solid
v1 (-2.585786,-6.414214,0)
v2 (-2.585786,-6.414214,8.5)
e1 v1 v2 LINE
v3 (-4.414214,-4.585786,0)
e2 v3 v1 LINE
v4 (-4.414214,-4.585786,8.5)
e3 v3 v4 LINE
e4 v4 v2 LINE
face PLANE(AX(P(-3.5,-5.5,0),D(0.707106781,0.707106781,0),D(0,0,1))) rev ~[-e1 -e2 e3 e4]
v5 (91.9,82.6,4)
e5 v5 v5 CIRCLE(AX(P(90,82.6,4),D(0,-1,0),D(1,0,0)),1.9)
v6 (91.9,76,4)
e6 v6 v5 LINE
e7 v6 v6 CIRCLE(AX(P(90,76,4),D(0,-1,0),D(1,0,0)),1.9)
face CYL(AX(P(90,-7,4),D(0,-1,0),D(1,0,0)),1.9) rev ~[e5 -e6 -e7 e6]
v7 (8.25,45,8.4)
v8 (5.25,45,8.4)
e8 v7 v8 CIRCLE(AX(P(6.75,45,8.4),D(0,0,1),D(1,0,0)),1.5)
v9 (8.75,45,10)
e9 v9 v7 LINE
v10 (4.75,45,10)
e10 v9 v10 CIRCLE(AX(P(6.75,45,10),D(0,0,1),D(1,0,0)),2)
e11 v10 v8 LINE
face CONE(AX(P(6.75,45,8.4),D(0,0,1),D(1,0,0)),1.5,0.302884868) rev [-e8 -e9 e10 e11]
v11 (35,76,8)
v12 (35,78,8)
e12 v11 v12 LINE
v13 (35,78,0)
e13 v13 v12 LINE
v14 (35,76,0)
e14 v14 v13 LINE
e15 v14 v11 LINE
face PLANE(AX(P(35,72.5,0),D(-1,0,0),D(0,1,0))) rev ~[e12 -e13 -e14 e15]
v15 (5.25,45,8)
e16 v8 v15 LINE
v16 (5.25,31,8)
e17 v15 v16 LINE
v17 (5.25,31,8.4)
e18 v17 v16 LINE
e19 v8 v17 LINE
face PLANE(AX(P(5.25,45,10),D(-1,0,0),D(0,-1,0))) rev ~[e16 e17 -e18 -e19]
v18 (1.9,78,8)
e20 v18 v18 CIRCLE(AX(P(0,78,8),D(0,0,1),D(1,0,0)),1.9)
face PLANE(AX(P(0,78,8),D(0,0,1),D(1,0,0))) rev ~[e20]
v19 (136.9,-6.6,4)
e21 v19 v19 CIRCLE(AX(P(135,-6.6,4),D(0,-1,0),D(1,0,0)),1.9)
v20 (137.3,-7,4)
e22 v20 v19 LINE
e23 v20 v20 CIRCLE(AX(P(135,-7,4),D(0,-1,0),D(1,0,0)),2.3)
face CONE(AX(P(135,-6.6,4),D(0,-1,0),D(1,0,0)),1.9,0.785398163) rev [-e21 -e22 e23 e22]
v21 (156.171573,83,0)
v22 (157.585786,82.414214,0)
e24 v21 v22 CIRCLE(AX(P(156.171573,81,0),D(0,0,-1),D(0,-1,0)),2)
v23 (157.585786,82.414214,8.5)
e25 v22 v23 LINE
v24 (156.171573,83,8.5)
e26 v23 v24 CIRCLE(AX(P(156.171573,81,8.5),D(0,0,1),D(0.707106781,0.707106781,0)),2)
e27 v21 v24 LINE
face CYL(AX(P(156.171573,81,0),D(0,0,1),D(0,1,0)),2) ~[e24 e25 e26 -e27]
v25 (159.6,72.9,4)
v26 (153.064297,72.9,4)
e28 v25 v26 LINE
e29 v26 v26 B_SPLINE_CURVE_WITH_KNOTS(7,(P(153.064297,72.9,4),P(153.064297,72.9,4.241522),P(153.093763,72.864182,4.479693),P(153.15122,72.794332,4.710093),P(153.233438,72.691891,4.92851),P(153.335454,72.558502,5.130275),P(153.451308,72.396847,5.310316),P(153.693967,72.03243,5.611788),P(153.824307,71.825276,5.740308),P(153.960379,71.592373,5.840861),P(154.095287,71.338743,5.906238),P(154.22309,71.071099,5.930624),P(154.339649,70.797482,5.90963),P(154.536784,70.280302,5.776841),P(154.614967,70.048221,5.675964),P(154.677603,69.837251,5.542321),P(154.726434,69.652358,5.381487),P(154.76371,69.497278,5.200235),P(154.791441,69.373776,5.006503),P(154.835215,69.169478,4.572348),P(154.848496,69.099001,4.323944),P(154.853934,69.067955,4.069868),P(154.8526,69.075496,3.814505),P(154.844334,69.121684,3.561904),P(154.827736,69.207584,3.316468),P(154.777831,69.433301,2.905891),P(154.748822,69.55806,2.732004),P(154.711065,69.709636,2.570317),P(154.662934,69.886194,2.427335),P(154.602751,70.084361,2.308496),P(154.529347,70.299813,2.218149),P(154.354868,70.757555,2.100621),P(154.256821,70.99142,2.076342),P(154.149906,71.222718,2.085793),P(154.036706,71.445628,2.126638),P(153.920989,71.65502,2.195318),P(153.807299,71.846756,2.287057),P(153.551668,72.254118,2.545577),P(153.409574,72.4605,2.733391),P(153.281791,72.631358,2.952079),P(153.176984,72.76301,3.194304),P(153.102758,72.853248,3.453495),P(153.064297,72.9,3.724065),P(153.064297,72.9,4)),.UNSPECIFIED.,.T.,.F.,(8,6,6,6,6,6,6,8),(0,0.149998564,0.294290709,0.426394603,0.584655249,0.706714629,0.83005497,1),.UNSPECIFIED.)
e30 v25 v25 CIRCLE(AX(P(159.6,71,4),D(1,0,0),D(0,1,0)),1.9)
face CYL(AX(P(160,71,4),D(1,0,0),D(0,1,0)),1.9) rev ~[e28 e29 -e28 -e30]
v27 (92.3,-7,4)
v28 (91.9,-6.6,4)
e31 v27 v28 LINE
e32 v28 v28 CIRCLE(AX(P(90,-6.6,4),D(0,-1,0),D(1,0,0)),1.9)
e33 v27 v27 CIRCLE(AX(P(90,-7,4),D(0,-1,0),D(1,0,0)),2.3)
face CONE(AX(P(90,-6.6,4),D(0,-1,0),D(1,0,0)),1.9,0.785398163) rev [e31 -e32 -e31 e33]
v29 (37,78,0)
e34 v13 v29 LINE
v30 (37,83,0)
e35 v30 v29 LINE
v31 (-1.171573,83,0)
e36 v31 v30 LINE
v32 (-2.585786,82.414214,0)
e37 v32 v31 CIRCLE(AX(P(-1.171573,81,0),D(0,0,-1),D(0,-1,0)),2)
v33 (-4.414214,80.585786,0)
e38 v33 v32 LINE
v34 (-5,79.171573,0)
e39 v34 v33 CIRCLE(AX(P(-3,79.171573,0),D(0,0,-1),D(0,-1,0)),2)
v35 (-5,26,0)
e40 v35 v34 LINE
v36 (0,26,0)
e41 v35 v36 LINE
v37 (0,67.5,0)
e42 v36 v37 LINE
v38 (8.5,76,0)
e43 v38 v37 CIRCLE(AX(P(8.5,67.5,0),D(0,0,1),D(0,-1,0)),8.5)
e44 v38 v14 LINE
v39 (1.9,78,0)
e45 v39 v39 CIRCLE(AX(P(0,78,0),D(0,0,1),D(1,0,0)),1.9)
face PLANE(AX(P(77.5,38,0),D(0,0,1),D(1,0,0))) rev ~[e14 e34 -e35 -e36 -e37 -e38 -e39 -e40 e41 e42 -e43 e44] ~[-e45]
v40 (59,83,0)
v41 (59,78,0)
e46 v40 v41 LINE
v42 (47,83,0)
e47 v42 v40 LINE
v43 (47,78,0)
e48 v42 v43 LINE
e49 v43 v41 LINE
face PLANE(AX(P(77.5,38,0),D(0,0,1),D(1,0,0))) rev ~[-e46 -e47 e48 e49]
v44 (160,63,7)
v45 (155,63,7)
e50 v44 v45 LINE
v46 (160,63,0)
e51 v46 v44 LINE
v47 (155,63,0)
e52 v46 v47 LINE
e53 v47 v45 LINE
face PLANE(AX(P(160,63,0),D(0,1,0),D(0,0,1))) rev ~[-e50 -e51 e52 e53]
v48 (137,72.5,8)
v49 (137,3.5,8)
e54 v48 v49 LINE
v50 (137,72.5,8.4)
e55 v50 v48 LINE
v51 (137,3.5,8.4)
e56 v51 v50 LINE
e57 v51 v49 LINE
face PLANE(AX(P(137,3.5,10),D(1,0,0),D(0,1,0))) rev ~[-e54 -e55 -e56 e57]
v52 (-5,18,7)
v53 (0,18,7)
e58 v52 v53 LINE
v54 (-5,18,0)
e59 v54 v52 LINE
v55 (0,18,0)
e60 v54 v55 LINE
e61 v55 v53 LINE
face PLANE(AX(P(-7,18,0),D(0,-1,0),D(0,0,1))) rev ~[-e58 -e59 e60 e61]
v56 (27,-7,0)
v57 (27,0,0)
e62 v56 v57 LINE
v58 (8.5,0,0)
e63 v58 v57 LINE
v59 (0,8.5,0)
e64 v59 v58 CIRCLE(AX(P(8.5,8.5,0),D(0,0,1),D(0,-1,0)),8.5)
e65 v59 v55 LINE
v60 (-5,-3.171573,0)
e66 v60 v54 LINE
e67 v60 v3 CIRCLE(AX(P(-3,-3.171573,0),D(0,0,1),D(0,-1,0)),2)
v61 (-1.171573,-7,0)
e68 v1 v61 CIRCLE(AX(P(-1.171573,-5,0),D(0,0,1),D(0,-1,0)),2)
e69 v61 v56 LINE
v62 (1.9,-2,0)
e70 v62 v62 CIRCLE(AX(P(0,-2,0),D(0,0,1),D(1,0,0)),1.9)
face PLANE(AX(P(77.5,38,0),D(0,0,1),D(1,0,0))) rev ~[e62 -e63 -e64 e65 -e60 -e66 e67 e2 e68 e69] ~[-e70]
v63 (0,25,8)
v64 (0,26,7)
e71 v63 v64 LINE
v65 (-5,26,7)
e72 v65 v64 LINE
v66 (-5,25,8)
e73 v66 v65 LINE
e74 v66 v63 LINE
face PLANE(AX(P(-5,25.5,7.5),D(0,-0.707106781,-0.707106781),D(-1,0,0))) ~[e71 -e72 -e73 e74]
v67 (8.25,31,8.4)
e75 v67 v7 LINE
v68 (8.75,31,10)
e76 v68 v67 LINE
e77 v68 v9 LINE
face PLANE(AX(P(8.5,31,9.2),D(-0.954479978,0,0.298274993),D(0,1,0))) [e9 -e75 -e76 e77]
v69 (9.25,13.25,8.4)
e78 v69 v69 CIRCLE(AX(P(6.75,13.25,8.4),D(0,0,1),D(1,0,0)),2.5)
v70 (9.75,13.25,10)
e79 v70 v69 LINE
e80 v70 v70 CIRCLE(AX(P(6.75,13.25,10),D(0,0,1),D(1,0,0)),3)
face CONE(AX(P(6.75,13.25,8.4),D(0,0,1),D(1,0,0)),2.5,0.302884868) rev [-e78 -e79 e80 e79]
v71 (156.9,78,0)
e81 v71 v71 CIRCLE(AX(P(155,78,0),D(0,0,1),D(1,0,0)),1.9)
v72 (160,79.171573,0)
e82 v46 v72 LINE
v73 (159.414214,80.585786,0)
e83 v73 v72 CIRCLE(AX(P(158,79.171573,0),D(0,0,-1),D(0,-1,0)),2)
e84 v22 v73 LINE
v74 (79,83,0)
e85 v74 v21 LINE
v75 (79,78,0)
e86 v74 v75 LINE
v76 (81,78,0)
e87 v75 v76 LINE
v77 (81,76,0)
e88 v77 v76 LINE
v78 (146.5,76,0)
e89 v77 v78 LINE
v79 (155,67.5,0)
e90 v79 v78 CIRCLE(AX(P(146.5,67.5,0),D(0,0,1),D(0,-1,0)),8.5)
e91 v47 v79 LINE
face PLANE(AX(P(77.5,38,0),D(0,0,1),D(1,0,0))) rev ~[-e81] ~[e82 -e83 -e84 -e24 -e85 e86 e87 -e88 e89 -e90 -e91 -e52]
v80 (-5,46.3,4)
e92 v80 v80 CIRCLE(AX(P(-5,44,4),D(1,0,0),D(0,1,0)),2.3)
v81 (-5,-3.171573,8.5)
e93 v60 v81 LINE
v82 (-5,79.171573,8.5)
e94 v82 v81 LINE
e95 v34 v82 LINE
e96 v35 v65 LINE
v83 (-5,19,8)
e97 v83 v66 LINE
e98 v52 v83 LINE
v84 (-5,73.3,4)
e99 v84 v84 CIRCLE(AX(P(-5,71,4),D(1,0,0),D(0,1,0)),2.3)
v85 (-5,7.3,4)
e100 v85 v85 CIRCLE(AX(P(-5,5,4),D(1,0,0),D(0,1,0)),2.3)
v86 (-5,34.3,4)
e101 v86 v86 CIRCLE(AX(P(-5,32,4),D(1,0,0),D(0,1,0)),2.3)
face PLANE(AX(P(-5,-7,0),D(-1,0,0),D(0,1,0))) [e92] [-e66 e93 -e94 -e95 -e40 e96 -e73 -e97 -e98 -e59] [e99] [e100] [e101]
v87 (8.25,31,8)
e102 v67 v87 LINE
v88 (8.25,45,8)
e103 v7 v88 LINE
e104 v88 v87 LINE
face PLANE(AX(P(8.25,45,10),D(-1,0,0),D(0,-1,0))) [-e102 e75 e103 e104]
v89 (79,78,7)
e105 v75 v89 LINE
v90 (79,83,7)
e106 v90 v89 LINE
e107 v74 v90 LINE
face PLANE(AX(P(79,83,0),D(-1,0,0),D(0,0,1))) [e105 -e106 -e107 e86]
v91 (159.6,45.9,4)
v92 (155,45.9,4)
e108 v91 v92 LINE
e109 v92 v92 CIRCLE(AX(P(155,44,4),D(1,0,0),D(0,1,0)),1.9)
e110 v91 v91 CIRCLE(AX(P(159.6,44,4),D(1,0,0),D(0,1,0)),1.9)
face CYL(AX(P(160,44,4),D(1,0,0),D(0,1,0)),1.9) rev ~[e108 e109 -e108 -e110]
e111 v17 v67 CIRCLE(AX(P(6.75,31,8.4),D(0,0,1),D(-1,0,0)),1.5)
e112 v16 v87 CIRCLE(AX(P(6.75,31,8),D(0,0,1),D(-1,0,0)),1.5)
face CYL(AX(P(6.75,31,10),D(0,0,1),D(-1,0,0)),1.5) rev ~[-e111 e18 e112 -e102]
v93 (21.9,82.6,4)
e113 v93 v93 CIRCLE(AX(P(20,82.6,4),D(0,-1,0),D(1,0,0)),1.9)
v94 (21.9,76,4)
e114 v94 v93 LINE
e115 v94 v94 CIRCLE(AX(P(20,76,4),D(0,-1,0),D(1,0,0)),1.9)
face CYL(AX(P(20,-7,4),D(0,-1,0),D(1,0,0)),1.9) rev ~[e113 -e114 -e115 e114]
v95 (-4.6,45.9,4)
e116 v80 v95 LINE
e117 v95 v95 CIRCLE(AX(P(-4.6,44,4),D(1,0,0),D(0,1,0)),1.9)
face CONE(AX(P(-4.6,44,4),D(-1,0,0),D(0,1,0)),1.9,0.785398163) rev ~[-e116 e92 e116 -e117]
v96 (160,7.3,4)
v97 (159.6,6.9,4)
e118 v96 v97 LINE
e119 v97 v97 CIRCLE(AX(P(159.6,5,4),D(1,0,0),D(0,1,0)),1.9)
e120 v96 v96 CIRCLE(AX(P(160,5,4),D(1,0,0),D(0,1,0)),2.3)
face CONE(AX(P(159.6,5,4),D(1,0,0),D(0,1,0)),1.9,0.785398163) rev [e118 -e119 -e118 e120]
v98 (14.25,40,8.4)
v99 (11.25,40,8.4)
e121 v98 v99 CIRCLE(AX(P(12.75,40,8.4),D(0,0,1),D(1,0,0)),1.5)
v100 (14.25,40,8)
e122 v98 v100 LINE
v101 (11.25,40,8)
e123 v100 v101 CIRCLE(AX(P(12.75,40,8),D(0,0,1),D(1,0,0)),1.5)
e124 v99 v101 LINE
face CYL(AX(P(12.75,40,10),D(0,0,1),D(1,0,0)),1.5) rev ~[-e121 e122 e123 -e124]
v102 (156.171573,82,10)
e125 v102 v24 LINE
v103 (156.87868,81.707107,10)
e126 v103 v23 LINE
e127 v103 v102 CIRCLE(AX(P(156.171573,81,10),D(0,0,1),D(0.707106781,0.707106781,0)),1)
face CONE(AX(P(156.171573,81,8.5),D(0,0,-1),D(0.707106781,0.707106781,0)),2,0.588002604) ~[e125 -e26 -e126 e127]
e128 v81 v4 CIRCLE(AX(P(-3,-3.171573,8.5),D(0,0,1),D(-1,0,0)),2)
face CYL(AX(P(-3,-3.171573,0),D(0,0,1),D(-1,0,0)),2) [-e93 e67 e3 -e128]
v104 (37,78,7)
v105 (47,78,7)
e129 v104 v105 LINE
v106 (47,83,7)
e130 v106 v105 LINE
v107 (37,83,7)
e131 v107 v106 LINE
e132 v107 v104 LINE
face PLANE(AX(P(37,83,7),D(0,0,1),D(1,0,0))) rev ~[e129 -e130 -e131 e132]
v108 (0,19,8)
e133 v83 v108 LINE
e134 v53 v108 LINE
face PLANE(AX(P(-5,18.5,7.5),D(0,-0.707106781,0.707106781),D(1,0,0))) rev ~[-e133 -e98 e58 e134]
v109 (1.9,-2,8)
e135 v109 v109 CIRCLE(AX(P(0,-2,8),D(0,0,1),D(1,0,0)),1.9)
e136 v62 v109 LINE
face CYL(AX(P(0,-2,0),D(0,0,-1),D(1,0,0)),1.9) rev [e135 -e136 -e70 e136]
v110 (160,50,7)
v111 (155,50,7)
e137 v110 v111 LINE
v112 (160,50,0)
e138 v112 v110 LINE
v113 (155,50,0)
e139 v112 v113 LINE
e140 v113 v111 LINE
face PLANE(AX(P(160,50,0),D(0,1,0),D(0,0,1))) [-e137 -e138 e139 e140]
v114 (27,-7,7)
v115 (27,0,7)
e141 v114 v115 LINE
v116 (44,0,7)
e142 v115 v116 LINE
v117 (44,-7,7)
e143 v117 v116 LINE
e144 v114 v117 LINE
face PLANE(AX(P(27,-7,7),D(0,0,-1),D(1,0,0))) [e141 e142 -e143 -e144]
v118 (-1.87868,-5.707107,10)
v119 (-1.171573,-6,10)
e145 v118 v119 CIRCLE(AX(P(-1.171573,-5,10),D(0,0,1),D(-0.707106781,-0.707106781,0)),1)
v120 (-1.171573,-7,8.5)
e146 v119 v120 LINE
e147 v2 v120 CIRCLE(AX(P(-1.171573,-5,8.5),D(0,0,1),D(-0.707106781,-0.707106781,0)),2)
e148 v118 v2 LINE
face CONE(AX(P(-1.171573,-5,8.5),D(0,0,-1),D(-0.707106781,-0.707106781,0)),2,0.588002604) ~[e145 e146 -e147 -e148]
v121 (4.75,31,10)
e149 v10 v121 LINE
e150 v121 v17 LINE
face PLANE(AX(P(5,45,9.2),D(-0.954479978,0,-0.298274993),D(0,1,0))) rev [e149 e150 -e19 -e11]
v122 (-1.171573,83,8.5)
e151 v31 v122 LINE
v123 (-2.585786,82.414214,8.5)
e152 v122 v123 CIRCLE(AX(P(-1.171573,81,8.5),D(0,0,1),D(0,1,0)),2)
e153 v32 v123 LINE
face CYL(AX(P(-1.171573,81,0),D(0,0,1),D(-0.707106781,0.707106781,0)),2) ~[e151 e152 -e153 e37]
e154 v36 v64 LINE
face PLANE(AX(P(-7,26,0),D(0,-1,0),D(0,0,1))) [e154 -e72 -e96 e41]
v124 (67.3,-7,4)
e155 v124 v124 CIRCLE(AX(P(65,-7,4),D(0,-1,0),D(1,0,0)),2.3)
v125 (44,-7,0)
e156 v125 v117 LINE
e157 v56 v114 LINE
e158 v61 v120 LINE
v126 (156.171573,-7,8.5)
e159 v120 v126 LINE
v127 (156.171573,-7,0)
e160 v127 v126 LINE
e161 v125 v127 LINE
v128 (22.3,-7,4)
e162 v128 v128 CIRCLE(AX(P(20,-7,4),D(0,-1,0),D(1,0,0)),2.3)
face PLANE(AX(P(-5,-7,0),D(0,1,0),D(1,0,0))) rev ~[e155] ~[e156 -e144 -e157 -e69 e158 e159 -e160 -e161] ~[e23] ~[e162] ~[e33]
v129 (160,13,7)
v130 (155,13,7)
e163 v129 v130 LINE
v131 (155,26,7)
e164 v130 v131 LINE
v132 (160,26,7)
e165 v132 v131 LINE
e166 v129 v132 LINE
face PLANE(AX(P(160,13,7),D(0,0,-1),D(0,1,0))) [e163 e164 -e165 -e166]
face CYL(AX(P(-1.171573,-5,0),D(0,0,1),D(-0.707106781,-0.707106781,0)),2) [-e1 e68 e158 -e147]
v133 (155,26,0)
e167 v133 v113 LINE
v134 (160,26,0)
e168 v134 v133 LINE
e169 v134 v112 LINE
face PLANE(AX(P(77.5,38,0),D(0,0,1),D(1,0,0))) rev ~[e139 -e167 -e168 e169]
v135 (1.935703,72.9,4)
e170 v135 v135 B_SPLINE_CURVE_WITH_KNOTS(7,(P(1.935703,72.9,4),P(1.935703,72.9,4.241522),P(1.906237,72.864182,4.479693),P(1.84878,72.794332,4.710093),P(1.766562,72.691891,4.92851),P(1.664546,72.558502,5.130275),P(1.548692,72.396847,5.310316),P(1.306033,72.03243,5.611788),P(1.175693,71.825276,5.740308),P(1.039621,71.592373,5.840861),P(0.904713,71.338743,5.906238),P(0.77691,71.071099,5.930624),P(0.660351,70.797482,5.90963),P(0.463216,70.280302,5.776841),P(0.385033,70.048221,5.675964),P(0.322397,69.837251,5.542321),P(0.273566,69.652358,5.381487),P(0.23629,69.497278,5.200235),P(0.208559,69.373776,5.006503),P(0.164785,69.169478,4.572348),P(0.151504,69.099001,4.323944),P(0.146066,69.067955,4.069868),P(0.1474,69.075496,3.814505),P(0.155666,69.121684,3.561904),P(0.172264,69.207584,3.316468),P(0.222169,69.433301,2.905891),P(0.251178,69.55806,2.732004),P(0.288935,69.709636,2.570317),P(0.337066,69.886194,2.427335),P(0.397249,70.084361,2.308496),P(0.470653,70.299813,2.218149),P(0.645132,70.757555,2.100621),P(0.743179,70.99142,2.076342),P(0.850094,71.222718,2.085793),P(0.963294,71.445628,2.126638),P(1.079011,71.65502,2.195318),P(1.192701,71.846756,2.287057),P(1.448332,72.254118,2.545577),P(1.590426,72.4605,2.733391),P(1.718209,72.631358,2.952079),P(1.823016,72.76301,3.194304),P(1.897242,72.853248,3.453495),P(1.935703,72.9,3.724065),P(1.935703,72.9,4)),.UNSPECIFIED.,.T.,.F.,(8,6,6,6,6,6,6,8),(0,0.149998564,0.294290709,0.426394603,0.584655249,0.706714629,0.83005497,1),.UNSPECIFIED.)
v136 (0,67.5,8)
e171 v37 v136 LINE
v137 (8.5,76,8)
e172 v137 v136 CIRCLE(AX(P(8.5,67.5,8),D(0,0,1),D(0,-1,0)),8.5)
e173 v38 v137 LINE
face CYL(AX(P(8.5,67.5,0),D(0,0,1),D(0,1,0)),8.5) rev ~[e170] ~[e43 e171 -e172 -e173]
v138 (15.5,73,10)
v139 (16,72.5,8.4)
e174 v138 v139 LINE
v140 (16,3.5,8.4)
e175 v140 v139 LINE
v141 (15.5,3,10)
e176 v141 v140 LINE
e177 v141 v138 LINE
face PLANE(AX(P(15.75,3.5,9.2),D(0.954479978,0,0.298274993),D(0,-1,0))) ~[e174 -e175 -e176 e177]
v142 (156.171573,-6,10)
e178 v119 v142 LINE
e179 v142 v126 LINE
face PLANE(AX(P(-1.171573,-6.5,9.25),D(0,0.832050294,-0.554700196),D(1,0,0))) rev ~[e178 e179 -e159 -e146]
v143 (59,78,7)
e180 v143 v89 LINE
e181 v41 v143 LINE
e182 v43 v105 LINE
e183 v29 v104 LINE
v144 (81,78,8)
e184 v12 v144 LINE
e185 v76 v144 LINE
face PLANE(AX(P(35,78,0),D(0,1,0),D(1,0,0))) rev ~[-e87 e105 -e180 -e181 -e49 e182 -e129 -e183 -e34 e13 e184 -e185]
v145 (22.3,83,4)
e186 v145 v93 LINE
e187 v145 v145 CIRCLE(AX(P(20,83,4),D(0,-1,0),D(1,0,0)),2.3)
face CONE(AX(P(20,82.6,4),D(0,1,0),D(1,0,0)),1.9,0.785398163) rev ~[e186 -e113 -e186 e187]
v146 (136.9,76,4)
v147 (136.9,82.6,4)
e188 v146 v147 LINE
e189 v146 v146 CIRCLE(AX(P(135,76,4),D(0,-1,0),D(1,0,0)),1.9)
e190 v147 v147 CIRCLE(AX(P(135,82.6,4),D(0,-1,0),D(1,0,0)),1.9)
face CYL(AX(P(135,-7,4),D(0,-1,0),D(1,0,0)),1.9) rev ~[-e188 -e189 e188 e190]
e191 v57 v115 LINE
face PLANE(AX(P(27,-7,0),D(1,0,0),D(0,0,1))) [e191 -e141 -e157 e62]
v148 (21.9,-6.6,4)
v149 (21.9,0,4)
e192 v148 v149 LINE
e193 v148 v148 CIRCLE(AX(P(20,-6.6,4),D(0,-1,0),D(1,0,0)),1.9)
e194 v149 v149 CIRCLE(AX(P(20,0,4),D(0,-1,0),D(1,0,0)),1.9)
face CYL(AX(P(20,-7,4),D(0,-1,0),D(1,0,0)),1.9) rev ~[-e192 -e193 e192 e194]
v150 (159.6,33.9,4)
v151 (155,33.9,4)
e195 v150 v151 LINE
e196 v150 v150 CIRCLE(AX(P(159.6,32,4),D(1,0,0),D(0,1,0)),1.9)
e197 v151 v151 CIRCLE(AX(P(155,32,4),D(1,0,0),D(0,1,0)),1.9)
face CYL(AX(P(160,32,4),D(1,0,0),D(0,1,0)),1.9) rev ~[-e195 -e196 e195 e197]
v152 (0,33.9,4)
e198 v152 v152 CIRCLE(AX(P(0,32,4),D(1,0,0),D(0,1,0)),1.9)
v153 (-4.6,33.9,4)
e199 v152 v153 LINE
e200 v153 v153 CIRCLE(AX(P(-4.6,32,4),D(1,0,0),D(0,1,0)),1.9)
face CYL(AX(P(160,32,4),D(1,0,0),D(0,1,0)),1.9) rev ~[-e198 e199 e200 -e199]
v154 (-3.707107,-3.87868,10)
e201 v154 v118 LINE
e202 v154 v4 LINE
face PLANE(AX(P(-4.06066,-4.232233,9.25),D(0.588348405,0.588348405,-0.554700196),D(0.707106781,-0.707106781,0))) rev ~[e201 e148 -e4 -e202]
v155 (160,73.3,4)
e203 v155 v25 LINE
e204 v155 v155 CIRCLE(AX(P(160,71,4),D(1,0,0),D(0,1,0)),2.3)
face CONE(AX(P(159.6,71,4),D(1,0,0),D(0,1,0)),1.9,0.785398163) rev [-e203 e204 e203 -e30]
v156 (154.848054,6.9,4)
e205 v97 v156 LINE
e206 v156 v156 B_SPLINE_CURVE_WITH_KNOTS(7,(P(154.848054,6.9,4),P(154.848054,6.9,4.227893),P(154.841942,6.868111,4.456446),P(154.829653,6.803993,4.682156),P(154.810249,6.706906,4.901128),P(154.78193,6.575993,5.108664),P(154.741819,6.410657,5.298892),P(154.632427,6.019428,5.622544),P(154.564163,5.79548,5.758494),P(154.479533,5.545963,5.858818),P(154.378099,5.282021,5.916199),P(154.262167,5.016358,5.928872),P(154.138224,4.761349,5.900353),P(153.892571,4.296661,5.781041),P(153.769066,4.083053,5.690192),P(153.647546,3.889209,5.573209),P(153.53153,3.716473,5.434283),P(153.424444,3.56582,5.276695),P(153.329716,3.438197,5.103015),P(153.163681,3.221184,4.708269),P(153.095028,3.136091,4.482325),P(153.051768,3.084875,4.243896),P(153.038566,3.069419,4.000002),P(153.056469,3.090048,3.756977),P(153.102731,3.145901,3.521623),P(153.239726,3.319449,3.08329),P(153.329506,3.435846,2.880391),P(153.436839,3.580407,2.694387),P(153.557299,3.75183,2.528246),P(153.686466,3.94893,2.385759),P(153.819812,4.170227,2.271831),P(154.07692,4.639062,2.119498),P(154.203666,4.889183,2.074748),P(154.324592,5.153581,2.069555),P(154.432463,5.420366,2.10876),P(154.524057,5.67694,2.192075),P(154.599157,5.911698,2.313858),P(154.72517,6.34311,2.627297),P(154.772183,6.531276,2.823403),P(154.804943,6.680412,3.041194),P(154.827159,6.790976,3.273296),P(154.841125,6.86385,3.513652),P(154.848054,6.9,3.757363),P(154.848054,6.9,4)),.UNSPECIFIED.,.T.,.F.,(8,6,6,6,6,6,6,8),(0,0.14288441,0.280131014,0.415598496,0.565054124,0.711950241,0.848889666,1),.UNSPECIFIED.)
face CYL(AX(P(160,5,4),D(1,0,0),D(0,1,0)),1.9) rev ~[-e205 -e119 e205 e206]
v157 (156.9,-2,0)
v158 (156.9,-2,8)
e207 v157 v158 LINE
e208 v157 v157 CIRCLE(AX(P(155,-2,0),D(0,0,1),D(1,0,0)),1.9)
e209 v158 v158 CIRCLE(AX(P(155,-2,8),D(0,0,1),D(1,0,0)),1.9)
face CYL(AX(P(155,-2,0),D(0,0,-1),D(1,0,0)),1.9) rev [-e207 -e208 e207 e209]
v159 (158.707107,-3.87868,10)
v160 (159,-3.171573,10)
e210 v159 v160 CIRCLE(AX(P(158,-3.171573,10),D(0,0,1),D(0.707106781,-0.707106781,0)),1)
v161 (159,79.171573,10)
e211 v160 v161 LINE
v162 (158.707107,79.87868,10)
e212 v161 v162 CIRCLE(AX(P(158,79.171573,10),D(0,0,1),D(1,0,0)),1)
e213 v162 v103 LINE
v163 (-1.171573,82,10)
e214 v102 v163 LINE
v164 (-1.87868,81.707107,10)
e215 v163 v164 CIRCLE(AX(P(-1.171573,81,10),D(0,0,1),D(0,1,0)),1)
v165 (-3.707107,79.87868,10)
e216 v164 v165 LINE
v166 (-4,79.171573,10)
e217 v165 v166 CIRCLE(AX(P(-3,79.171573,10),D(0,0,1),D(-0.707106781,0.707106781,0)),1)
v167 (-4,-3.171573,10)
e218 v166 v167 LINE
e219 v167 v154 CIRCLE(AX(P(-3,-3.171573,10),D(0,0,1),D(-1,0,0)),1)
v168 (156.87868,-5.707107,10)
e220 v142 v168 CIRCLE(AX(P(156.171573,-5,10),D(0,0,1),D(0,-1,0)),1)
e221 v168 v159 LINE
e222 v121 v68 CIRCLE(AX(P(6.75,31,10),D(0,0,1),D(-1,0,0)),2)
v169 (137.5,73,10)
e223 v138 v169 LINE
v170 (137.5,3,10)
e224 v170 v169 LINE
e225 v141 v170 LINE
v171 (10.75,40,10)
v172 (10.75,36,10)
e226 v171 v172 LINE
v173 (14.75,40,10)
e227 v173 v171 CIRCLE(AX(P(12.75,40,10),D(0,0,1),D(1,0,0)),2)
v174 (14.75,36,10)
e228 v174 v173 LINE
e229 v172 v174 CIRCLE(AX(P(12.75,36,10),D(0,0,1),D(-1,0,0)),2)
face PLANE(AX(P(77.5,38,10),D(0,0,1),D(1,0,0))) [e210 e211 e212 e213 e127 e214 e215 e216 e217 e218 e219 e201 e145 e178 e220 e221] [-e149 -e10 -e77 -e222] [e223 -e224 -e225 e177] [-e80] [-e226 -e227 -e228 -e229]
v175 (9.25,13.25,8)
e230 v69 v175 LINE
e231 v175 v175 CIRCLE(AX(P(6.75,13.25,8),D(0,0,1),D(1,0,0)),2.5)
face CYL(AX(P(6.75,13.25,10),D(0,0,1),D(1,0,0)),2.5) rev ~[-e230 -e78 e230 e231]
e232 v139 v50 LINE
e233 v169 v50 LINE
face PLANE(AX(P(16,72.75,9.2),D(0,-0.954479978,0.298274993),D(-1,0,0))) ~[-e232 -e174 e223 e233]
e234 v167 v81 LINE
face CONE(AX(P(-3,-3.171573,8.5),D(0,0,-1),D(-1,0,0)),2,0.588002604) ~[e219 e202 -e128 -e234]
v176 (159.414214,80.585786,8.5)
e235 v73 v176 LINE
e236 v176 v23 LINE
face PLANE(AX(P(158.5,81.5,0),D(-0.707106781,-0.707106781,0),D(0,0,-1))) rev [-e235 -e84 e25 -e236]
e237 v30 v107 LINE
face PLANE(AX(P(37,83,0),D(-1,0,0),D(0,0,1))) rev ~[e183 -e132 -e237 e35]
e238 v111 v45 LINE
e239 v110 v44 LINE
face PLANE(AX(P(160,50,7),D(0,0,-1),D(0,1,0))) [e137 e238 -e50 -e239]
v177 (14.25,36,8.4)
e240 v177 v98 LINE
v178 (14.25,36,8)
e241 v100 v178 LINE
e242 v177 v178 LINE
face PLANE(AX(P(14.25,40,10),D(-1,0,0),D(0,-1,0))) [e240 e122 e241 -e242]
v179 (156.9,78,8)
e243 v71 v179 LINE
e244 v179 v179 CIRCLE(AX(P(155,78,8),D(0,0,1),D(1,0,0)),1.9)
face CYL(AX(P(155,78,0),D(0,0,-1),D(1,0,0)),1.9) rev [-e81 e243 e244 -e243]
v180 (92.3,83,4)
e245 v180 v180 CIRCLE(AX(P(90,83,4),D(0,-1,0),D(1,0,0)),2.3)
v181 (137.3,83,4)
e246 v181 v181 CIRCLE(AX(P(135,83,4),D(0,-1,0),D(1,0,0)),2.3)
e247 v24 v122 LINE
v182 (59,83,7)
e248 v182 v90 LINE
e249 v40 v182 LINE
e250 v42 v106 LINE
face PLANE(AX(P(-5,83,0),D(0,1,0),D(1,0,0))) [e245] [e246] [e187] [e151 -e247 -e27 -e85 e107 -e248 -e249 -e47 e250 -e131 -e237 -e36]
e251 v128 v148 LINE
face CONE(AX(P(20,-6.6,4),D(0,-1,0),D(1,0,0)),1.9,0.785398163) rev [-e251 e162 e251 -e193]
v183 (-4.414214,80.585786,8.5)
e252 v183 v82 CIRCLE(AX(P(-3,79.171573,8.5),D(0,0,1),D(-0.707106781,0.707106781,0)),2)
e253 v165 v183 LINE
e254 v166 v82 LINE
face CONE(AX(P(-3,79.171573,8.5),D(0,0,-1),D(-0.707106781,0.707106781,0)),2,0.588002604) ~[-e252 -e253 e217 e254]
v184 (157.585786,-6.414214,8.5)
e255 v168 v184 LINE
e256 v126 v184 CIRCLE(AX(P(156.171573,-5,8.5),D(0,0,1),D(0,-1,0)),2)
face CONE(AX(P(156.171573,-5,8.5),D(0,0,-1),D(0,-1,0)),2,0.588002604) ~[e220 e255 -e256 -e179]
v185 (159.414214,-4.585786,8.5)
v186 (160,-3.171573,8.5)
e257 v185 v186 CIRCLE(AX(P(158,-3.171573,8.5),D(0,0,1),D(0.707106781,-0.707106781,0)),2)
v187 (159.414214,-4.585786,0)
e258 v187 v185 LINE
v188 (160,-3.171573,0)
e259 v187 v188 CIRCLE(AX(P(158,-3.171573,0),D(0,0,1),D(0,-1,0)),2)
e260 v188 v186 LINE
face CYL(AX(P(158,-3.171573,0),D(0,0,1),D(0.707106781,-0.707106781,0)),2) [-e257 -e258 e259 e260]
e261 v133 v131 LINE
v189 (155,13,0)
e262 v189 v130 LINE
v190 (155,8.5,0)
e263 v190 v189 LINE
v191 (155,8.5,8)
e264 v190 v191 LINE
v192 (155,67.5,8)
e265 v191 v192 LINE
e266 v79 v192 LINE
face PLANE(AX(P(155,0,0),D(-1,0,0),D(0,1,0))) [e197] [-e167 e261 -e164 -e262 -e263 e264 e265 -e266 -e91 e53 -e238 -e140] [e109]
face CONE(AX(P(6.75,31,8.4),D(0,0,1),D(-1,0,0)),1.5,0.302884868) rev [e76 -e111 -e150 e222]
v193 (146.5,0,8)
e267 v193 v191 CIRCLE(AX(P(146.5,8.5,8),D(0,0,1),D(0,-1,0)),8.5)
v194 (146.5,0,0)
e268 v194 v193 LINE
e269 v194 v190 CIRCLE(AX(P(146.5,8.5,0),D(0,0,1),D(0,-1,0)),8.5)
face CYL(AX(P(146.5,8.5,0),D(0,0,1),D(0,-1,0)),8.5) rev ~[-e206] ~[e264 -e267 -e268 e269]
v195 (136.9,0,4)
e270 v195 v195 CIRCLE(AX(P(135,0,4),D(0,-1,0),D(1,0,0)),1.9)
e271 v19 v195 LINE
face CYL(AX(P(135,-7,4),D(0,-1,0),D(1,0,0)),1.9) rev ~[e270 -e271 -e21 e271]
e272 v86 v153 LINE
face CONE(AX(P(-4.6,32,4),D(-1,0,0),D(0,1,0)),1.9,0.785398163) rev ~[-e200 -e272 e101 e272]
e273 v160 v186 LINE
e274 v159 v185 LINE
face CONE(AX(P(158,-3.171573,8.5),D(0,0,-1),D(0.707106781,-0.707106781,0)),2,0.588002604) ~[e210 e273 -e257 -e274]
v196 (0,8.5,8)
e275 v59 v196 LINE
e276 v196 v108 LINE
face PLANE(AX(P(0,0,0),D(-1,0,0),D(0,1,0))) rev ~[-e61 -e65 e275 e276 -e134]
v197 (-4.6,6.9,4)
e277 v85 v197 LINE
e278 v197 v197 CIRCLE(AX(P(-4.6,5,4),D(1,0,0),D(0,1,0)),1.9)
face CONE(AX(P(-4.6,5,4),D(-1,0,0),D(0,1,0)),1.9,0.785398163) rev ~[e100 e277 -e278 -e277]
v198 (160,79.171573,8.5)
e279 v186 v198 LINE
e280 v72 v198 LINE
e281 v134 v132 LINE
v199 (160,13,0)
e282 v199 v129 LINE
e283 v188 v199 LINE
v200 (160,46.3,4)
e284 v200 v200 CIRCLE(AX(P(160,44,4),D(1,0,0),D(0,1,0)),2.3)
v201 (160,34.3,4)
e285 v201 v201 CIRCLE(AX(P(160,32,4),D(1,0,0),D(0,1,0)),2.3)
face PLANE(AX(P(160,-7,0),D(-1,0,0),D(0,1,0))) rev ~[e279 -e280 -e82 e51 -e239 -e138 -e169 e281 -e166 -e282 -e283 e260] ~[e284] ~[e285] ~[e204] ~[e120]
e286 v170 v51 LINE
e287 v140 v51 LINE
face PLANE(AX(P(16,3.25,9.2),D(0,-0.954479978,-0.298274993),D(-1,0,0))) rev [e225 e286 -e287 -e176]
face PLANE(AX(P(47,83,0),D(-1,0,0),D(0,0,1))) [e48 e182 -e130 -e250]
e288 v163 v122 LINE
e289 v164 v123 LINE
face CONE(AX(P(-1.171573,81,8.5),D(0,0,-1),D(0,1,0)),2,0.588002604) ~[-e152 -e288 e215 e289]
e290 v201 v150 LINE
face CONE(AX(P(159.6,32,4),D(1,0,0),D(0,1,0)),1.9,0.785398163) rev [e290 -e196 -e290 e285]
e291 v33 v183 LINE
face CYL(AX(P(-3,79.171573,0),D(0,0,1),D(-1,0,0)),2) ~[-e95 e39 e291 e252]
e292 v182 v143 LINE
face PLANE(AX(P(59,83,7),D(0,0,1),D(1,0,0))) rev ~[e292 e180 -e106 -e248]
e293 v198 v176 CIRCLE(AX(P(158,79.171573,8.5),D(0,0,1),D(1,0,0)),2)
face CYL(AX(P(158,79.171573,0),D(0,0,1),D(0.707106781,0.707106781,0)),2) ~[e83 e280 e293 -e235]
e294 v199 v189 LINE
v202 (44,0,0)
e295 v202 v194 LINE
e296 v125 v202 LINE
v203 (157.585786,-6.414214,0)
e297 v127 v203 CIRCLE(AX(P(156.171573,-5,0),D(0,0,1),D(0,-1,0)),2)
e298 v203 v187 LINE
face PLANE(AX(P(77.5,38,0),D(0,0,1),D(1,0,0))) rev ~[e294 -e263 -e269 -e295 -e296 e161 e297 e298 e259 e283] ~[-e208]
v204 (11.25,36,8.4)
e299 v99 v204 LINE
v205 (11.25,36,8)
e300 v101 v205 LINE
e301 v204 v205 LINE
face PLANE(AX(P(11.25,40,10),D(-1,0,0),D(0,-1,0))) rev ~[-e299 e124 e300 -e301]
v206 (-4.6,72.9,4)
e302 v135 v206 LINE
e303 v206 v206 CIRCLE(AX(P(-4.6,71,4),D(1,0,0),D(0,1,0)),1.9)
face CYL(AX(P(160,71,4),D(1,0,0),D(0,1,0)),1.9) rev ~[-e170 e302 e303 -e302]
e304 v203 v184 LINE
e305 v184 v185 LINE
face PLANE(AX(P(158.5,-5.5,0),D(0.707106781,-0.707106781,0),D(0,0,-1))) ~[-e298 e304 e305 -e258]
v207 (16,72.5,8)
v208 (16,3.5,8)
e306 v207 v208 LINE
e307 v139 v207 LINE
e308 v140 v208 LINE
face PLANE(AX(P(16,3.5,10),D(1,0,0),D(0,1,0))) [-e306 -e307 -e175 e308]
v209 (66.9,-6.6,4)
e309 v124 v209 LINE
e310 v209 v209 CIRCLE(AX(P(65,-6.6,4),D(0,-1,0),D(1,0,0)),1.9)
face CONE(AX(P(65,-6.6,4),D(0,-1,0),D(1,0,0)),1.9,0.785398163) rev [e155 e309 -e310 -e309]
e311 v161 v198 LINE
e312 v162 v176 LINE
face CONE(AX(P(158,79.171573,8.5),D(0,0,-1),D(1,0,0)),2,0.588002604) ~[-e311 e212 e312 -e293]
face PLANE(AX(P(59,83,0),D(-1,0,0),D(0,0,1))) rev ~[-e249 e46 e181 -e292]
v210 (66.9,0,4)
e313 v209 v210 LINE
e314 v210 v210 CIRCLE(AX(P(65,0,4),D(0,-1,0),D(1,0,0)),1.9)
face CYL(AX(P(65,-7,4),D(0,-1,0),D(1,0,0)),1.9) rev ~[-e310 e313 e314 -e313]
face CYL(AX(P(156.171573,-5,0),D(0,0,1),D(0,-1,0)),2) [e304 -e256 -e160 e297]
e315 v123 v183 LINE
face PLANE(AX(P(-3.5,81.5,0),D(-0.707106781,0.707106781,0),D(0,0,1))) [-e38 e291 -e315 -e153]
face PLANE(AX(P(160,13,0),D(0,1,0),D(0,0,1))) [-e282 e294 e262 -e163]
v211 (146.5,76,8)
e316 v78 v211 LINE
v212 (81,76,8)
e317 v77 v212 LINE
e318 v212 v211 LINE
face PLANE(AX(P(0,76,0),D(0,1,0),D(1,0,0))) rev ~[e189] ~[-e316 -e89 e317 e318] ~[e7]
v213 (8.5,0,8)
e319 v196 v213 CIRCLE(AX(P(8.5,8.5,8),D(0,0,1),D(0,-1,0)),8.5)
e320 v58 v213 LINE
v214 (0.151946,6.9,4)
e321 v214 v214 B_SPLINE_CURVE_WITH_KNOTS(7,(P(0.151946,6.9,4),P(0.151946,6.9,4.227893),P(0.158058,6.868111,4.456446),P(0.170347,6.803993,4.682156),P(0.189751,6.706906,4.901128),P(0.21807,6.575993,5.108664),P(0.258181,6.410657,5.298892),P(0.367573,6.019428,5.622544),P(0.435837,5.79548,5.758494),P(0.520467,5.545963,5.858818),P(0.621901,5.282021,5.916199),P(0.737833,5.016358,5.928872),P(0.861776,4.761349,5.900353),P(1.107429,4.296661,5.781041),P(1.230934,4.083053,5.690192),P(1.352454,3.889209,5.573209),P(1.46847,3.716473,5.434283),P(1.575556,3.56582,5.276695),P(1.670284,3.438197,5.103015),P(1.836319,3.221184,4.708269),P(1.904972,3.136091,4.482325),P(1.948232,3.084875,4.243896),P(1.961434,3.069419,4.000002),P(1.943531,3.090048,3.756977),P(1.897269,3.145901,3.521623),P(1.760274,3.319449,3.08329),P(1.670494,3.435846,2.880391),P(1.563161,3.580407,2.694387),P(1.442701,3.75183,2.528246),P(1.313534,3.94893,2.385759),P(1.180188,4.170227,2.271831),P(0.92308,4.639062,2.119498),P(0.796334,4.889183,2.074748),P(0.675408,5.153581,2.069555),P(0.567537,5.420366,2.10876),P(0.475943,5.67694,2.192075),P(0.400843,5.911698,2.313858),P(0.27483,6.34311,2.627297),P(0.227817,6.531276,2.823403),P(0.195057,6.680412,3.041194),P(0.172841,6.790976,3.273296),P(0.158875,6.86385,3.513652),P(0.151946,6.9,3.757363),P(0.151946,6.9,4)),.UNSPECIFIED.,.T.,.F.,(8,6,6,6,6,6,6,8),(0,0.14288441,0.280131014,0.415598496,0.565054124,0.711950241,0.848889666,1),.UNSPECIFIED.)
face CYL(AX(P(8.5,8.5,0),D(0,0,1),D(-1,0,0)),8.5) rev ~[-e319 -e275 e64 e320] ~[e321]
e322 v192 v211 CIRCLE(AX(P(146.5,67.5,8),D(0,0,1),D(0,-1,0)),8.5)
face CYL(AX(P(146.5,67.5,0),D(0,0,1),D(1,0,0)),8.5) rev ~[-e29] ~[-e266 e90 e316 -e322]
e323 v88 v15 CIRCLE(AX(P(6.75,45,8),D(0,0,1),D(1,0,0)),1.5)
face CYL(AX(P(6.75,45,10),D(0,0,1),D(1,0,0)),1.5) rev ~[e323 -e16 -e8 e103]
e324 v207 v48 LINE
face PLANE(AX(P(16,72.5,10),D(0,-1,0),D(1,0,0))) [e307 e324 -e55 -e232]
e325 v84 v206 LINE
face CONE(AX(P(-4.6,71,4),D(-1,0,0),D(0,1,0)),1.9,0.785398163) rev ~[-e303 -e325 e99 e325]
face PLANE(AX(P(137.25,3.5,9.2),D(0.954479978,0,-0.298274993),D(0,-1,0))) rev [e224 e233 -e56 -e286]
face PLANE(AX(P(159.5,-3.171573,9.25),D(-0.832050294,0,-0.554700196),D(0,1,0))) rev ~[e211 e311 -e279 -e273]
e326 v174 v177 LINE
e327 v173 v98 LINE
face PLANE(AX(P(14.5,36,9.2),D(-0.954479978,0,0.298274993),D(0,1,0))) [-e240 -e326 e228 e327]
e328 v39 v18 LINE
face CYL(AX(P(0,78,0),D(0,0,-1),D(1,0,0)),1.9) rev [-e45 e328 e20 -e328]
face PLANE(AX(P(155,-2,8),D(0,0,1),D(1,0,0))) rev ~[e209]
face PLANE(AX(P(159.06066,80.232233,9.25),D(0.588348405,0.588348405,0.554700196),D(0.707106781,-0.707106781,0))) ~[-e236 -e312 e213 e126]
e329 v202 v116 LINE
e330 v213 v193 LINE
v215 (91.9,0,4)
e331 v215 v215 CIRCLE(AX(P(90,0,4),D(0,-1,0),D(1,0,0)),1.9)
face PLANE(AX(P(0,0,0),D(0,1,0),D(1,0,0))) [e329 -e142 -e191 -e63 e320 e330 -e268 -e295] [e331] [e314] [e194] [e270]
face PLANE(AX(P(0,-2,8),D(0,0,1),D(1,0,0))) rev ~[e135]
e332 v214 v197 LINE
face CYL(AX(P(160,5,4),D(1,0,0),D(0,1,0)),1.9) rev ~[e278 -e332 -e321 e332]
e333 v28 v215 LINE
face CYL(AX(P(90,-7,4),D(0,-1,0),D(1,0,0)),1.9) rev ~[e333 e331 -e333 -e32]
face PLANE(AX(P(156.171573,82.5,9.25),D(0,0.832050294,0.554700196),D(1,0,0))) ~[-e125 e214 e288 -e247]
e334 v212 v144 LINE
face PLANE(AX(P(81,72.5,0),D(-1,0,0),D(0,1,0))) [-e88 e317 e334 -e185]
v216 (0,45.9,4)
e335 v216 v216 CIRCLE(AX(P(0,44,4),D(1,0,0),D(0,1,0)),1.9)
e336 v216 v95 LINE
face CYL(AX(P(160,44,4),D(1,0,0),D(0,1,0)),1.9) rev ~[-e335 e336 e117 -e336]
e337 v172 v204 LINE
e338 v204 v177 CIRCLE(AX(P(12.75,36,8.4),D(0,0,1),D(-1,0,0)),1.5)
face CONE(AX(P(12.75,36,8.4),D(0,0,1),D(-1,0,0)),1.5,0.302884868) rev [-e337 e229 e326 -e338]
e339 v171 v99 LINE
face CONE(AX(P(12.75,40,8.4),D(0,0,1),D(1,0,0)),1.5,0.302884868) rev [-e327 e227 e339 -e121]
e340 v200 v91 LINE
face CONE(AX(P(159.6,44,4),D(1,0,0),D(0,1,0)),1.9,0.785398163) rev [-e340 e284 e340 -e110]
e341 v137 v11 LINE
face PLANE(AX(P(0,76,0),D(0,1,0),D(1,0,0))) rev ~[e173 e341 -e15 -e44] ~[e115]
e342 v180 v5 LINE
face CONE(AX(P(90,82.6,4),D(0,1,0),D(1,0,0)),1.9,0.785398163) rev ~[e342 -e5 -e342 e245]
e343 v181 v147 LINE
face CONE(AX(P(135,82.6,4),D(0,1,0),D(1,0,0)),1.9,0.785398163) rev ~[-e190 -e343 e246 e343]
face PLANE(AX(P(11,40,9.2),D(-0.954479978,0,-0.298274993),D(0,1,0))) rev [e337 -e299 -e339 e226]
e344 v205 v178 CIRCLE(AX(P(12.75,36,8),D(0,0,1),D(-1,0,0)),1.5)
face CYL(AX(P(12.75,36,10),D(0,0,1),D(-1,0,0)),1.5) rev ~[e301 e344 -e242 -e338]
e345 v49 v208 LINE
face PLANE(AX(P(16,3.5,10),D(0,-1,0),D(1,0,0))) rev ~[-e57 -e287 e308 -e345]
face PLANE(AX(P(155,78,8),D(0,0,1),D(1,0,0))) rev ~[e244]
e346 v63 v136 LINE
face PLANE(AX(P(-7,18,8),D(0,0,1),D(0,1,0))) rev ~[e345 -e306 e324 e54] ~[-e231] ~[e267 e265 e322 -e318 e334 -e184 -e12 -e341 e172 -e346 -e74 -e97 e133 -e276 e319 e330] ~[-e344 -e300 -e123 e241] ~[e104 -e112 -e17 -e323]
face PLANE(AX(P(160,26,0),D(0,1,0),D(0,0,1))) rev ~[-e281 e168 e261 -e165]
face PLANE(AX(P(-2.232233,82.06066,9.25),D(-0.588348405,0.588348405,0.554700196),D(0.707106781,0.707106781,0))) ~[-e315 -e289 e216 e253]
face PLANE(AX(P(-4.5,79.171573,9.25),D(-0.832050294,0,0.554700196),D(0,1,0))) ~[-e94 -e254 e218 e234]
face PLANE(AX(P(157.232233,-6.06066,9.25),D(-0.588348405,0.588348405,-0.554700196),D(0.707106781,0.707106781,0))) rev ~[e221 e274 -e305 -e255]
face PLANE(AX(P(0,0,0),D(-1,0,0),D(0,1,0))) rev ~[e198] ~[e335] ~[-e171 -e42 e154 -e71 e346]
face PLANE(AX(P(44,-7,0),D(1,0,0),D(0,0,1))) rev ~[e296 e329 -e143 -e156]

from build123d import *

# Parameters (mm, degrees)
SKETCH_W         = 165
SKETCH_H         = 90
PAD_DEPTH        = 10
SKETCH001_W      = 121
SKETCH001_H      = 69
POCKET_DEPTH     = 10.001
SKETCH002_W      = 155
SKETCH002_H      = 76
POCKET001_DEPTH  = 8
SKETCH003_R      = 2.5
POCKET002_DEPTH  = 10.001
SKETCH005_W      = 46
SKETCH005_H      = 5.5
POCKET003_DEPTH  = 8
SKETCH007_W      = 10
SKETCH007_H      = 7
SKETCH007_W_2    = 20
POCKET005_DEPTH  = 7
SKETCH008_W      = 13
SKETCH008_H      = 7
POCKET006_DEPTH  = 5
SKETCH009_W      = 17
SKETCH009_H      = 7
POCKET007_DEPTH  = 7
SKETCH010_W      = 8
SKETCH010_H      = 8
POCKET008_DEPTH  = 7
SKETCH015_R      = 1.9
POCKET010_DEPTH  = 8
FILLET004_R      = 8.5
CHAMFER003_SIZE  = 3
CHAMFER004_SIZE2 = 1.6
CHAMFER004_SIZE  = 0.5
FILLET005_R      = 2
CHAMFER005_SIZE2 = 1.5
CHAMFER005_SIZE  = 1
SKETCH026_R      = 1.9
POCKET018_DEPTH  = 165.001
SKETCH027_R      = 1.9
POCKET019_DEPTH  = 90.001
CHAMFER009_SIZE  = 0.4
CHAMFER027_SIZE  = 1


with BuildPart() as part:
    # Sketch → Pad (new body)
    with BuildSketch(Plane.XY):
        with Locations((77.5, 38)):
            Rectangle(SKETCH_W, SKETCH_H)
    extrude(amount=PAD_DEPTH)

    # Sketch001 (on DatumPlane) → Pocket (cut, through all)
    with BuildSketch(Plane.XY.offset(10)):
        with Locations((76.5, 38)):
            Rectangle(SKETCH001_W, SKETCH001_H)
    extrude(amount=-POCKET_DEPTH, mode=Mode.SUBTRACT)

    # Sketch002 (on DatumPlane) → Pocket001 (cut)
    with BuildSketch(Plane.XY):
        with Locations((77.5, 38)):
            Rectangle(SKETCH002_W, SKETCH002_H)
    extrude(amount=POCKET001_DEPTH, mode=Mode.SUBTRACT)

    # Sketch003 (on DatumPlane) → Pocket002 (cut, through all)
    with BuildSketch(Plane.XY.offset(10)):
        with Locations((6.75, 13.25)):
            Circle(SKETCH003_R)
        with BuildLine():
            ThreePointArc((8.25, 45), (6.75, 46.5), (5.25, 45))
            Line((5.25, 45), (5.25, 31))
            ThreePointArc((5.25, 31), (6.75, 29.5), (8.25, 31))
            Line((8.25, 45), (8.25, 31))
        make_face()
        with BuildLine():
            ThreePointArc((14.25, 40), (12.75, 41.5), (11.25, 40))
            Line((11.25, 40), (11.25, 36))
            ThreePointArc((11.25, 36), (12.75, 34.5), (14.25, 36))
            Line((14.25, 40), (14.25, 36))
        make_face()
    extrude(amount=-POCKET002_DEPTH, mode=Mode.SUBTRACT)

    # Sketch005 (on Face5 of Pocket002) → Pocket003 (cut)
    with BuildSketch(Plane.XY):
        with Locations((58, 75.25)):
            Rectangle(SKETCH005_W, SKETCH005_H)
    extrude(amount=POCKET003_DEPTH, mode=Mode.SUBTRACT)

    # Sketch007 (on DatumPlane) → Pocket005 (cut)
    with BuildSketch(Plane.XZ.offset(-83)):
        with Locations((42, 3.5)):
            Rectangle(SKETCH007_W, SKETCH007_H)
        with Locations((69, 3.5)):
            Rectangle(SKETCH007_W_2, SKETCH007_H)
    extrude(amount=POCKET005_DEPTH, mode=Mode.SUBTRACT)

    # Sketch008 (on DatumPlane) → Pocket006 (cut)
    with BuildSketch(Plane.YZ.offset(160)):
        with Locations((19.5, 3.5)):
            Rectangle(SKETCH008_W, SKETCH008_H)
        with Locations((56.5, 3.5)):
            Rectangle(SKETCH008_W, SKETCH008_H)
    extrude(amount=-POCKET006_DEPTH, mode=Mode.SUBTRACT)

    # Sketch009 (on DatumPlane) → Pocket007 (cut)
    with BuildSketch(Plane.XZ.offset(7)):
        with Locations((35.5, 3.5)):
            Rectangle(SKETCH009_W, SKETCH009_H)
    extrude(amount=-POCKET007_DEPTH, mode=Mode.SUBTRACT)

    # Sketch010 (on DatumPlane) → Pocket008 (cut)
    with BuildSketch(Plane.YZ.offset(-7)):
        with Locations((22, 4)):
            Rectangle(SKETCH010_W, SKETCH010_H)
    extrude(amount=POCKET008_DEPTH, mode=Mode.SUBTRACT)

    # Sketch015 (on DatumPlane) → Pocket010 (cut)
    with BuildSketch(Plane.XY):
        with Locations((0, -2)):
            Circle(SKETCH015_R)
        with Locations((0, 78)):
            Circle(SKETCH015_R)
        with Locations((155, 78)):
            Circle(SKETCH015_R)
        with Locations((155, -2)):
            Circle(SKETCH015_R)
    extrude(amount=POCKET010_DEPTH, mode=Mode.SUBTRACT)

    # Fillet004
    fillet004_edges = [part.edges().sort_by_distance(p)[0] for p in [
        (0, 0, 4),
        (0, 76, 4),
        (155, 0, 4),
        (155, 76, 4),
    ]]
    fillet(fillet004_edges, radius=FILLET004_R)

    # Chamfer003
    chamfer003_edges = [part.edges().sort_by_distance(p)[0] for p in [
        (-5, 83, 5),
        (-5, -7, 5),
        (160, -7, 5),
        (160, 83, 5),
    ]]
    chamfer(chamfer003_edges, length=CHAMFER003_SIZE)

    # Chamfer004
    chamfer004_edges = [part.edges().sort_by_distance(p)[0] for p in [
        (12.75, 34.5, 10),
        (14.25, 38, 10),
        (12.75, 41.5, 10),
        (11.25, 38, 10),
        (6.75, 46.5, 10),
        (5.25, 38, 10),
        (8.25, 38, 10),
        (6.75, 29.5, 10),
        (4.25, 13.25, 10),
        (16, 38, 10),
        (76.5, 3.5, 10),
        (137, 38, 10),
        (76.5, 72.5, 10),
    ]]
    chamfer004_side = part.faces().sort_by_distance((77.5, -5.120505, 10))[0]
    chamfer(chamfer004_edges, length=CHAMFER004_SIZE, length2=CHAMFER004_SIZE2, reference=chamfer004_side)

    # Fillet005
    fillet005_edges = [part.edges().sort_by_distance(p)[0] for p in [
        (-5, -4, 5),
        (-2, -7, 5),
        (-5, 80, 5),
        (-2, 83, 5),
        (157, -7, 5),
        (160, -4, 5),
        (160, 80, 5),
        (157, 83, 5),
    ]]
    fillet(fillet005_edges, radius=FILLET005_R)

    # Chamfer005
    chamfer005_edges = [part.edges().sort_by_distance(p)[0] for p in [
        (156.93694, -6.847759, 10),
        (158.5, -5.5, 10),
        (159.847759, -3.93694, 10),
        (160, 38, 10),
        (159.847759, 79.93694, 10),
        (158.5, 81.5, 10),
        (156.93694, 82.847759, 10),
        (77.5, 83, 10),
        (-1.93694, 82.847759, 10),
        (-3.5, 81.5, 10),
        (-4.847759, 79.93694, 10),
        (-5, 38, 10),
        (-4.847759, -3.93694, 10),
        (-3.5, -5.5, 10),
        (-1.93694, -6.847759, 10),
        (77.5, -7, 10),
    ]]
    chamfer005_side = part.faces().sort_by_distance((77.5, -5.120505, 10))[0]
    chamfer(chamfer005_edges, length=CHAMFER005_SIZE, length2=CHAMFER005_SIZE2, reference=chamfer005_side)

    # Sketch026 (on DatumPlane) → Pocket018 (cut, through all)
    with BuildSketch(Plane.YZ.offset(160)):
        with Locations((5, 4)):
            Circle(SKETCH026_R)
        with Locations((71, 4)):
            Circle(SKETCH026_R)
        with Locations((32, 4)):
            Circle(SKETCH026_R)
        with Locations((44, 4)):
            Circle(SKETCH026_R)
    extrude(amount=-POCKET018_DEPTH, mode=Mode.SUBTRACT)

    # Sketch027 (on DatumPlane) → Pocket019 (cut, through all)
    with BuildSketch(Plane.XZ.offset(7)):
        with Locations((20, 4)):
            Circle(SKETCH027_R)
        with Locations((135, 4)):
            Circle(SKETCH027_R)
        with Locations((90, 4)):
            Circle(SKETCH027_R)
        with Locations((65, 4)):
            Circle(SKETCH027_R)
    extrude(amount=-POCKET019_DEPTH, mode=Mode.SUBTRACT)

    # Chamfer009
    chamfer009_edges = [part.edges().sort_by_distance(p)[0] for p in [
        (133.1, 83, 4),
        (88.1, 83, 4),
        (18.1, 83, 4),
        (-5, 69.1, 4),
        (-5, 42.1, 4),
        (-5, 30.1, 4),
        (-5, 3.1, 4),
        (18.1, -7, 4),
        (63.1, -7, 4),
        (88.1, -7, 4),
        (133.1, -7, 4),
        (160, 3.1, 4),
        (160, 30.1, 4),
        (160, 42.1, 4),
        (160, 69.1, 4),
    ]]
    chamfer(chamfer009_edges, length=CHAMFER009_SIZE)

    # Chamfer027
    chamfer027_edges = [part.edges().sort_by_distance(p)[0] for p in [
        (-2.5, 26, 8),
        (-2.5, 18, 8),
    ]]
    chamfer(chamfer027_edges, length=CHAMFER027_SIZE)


solid = part.part
